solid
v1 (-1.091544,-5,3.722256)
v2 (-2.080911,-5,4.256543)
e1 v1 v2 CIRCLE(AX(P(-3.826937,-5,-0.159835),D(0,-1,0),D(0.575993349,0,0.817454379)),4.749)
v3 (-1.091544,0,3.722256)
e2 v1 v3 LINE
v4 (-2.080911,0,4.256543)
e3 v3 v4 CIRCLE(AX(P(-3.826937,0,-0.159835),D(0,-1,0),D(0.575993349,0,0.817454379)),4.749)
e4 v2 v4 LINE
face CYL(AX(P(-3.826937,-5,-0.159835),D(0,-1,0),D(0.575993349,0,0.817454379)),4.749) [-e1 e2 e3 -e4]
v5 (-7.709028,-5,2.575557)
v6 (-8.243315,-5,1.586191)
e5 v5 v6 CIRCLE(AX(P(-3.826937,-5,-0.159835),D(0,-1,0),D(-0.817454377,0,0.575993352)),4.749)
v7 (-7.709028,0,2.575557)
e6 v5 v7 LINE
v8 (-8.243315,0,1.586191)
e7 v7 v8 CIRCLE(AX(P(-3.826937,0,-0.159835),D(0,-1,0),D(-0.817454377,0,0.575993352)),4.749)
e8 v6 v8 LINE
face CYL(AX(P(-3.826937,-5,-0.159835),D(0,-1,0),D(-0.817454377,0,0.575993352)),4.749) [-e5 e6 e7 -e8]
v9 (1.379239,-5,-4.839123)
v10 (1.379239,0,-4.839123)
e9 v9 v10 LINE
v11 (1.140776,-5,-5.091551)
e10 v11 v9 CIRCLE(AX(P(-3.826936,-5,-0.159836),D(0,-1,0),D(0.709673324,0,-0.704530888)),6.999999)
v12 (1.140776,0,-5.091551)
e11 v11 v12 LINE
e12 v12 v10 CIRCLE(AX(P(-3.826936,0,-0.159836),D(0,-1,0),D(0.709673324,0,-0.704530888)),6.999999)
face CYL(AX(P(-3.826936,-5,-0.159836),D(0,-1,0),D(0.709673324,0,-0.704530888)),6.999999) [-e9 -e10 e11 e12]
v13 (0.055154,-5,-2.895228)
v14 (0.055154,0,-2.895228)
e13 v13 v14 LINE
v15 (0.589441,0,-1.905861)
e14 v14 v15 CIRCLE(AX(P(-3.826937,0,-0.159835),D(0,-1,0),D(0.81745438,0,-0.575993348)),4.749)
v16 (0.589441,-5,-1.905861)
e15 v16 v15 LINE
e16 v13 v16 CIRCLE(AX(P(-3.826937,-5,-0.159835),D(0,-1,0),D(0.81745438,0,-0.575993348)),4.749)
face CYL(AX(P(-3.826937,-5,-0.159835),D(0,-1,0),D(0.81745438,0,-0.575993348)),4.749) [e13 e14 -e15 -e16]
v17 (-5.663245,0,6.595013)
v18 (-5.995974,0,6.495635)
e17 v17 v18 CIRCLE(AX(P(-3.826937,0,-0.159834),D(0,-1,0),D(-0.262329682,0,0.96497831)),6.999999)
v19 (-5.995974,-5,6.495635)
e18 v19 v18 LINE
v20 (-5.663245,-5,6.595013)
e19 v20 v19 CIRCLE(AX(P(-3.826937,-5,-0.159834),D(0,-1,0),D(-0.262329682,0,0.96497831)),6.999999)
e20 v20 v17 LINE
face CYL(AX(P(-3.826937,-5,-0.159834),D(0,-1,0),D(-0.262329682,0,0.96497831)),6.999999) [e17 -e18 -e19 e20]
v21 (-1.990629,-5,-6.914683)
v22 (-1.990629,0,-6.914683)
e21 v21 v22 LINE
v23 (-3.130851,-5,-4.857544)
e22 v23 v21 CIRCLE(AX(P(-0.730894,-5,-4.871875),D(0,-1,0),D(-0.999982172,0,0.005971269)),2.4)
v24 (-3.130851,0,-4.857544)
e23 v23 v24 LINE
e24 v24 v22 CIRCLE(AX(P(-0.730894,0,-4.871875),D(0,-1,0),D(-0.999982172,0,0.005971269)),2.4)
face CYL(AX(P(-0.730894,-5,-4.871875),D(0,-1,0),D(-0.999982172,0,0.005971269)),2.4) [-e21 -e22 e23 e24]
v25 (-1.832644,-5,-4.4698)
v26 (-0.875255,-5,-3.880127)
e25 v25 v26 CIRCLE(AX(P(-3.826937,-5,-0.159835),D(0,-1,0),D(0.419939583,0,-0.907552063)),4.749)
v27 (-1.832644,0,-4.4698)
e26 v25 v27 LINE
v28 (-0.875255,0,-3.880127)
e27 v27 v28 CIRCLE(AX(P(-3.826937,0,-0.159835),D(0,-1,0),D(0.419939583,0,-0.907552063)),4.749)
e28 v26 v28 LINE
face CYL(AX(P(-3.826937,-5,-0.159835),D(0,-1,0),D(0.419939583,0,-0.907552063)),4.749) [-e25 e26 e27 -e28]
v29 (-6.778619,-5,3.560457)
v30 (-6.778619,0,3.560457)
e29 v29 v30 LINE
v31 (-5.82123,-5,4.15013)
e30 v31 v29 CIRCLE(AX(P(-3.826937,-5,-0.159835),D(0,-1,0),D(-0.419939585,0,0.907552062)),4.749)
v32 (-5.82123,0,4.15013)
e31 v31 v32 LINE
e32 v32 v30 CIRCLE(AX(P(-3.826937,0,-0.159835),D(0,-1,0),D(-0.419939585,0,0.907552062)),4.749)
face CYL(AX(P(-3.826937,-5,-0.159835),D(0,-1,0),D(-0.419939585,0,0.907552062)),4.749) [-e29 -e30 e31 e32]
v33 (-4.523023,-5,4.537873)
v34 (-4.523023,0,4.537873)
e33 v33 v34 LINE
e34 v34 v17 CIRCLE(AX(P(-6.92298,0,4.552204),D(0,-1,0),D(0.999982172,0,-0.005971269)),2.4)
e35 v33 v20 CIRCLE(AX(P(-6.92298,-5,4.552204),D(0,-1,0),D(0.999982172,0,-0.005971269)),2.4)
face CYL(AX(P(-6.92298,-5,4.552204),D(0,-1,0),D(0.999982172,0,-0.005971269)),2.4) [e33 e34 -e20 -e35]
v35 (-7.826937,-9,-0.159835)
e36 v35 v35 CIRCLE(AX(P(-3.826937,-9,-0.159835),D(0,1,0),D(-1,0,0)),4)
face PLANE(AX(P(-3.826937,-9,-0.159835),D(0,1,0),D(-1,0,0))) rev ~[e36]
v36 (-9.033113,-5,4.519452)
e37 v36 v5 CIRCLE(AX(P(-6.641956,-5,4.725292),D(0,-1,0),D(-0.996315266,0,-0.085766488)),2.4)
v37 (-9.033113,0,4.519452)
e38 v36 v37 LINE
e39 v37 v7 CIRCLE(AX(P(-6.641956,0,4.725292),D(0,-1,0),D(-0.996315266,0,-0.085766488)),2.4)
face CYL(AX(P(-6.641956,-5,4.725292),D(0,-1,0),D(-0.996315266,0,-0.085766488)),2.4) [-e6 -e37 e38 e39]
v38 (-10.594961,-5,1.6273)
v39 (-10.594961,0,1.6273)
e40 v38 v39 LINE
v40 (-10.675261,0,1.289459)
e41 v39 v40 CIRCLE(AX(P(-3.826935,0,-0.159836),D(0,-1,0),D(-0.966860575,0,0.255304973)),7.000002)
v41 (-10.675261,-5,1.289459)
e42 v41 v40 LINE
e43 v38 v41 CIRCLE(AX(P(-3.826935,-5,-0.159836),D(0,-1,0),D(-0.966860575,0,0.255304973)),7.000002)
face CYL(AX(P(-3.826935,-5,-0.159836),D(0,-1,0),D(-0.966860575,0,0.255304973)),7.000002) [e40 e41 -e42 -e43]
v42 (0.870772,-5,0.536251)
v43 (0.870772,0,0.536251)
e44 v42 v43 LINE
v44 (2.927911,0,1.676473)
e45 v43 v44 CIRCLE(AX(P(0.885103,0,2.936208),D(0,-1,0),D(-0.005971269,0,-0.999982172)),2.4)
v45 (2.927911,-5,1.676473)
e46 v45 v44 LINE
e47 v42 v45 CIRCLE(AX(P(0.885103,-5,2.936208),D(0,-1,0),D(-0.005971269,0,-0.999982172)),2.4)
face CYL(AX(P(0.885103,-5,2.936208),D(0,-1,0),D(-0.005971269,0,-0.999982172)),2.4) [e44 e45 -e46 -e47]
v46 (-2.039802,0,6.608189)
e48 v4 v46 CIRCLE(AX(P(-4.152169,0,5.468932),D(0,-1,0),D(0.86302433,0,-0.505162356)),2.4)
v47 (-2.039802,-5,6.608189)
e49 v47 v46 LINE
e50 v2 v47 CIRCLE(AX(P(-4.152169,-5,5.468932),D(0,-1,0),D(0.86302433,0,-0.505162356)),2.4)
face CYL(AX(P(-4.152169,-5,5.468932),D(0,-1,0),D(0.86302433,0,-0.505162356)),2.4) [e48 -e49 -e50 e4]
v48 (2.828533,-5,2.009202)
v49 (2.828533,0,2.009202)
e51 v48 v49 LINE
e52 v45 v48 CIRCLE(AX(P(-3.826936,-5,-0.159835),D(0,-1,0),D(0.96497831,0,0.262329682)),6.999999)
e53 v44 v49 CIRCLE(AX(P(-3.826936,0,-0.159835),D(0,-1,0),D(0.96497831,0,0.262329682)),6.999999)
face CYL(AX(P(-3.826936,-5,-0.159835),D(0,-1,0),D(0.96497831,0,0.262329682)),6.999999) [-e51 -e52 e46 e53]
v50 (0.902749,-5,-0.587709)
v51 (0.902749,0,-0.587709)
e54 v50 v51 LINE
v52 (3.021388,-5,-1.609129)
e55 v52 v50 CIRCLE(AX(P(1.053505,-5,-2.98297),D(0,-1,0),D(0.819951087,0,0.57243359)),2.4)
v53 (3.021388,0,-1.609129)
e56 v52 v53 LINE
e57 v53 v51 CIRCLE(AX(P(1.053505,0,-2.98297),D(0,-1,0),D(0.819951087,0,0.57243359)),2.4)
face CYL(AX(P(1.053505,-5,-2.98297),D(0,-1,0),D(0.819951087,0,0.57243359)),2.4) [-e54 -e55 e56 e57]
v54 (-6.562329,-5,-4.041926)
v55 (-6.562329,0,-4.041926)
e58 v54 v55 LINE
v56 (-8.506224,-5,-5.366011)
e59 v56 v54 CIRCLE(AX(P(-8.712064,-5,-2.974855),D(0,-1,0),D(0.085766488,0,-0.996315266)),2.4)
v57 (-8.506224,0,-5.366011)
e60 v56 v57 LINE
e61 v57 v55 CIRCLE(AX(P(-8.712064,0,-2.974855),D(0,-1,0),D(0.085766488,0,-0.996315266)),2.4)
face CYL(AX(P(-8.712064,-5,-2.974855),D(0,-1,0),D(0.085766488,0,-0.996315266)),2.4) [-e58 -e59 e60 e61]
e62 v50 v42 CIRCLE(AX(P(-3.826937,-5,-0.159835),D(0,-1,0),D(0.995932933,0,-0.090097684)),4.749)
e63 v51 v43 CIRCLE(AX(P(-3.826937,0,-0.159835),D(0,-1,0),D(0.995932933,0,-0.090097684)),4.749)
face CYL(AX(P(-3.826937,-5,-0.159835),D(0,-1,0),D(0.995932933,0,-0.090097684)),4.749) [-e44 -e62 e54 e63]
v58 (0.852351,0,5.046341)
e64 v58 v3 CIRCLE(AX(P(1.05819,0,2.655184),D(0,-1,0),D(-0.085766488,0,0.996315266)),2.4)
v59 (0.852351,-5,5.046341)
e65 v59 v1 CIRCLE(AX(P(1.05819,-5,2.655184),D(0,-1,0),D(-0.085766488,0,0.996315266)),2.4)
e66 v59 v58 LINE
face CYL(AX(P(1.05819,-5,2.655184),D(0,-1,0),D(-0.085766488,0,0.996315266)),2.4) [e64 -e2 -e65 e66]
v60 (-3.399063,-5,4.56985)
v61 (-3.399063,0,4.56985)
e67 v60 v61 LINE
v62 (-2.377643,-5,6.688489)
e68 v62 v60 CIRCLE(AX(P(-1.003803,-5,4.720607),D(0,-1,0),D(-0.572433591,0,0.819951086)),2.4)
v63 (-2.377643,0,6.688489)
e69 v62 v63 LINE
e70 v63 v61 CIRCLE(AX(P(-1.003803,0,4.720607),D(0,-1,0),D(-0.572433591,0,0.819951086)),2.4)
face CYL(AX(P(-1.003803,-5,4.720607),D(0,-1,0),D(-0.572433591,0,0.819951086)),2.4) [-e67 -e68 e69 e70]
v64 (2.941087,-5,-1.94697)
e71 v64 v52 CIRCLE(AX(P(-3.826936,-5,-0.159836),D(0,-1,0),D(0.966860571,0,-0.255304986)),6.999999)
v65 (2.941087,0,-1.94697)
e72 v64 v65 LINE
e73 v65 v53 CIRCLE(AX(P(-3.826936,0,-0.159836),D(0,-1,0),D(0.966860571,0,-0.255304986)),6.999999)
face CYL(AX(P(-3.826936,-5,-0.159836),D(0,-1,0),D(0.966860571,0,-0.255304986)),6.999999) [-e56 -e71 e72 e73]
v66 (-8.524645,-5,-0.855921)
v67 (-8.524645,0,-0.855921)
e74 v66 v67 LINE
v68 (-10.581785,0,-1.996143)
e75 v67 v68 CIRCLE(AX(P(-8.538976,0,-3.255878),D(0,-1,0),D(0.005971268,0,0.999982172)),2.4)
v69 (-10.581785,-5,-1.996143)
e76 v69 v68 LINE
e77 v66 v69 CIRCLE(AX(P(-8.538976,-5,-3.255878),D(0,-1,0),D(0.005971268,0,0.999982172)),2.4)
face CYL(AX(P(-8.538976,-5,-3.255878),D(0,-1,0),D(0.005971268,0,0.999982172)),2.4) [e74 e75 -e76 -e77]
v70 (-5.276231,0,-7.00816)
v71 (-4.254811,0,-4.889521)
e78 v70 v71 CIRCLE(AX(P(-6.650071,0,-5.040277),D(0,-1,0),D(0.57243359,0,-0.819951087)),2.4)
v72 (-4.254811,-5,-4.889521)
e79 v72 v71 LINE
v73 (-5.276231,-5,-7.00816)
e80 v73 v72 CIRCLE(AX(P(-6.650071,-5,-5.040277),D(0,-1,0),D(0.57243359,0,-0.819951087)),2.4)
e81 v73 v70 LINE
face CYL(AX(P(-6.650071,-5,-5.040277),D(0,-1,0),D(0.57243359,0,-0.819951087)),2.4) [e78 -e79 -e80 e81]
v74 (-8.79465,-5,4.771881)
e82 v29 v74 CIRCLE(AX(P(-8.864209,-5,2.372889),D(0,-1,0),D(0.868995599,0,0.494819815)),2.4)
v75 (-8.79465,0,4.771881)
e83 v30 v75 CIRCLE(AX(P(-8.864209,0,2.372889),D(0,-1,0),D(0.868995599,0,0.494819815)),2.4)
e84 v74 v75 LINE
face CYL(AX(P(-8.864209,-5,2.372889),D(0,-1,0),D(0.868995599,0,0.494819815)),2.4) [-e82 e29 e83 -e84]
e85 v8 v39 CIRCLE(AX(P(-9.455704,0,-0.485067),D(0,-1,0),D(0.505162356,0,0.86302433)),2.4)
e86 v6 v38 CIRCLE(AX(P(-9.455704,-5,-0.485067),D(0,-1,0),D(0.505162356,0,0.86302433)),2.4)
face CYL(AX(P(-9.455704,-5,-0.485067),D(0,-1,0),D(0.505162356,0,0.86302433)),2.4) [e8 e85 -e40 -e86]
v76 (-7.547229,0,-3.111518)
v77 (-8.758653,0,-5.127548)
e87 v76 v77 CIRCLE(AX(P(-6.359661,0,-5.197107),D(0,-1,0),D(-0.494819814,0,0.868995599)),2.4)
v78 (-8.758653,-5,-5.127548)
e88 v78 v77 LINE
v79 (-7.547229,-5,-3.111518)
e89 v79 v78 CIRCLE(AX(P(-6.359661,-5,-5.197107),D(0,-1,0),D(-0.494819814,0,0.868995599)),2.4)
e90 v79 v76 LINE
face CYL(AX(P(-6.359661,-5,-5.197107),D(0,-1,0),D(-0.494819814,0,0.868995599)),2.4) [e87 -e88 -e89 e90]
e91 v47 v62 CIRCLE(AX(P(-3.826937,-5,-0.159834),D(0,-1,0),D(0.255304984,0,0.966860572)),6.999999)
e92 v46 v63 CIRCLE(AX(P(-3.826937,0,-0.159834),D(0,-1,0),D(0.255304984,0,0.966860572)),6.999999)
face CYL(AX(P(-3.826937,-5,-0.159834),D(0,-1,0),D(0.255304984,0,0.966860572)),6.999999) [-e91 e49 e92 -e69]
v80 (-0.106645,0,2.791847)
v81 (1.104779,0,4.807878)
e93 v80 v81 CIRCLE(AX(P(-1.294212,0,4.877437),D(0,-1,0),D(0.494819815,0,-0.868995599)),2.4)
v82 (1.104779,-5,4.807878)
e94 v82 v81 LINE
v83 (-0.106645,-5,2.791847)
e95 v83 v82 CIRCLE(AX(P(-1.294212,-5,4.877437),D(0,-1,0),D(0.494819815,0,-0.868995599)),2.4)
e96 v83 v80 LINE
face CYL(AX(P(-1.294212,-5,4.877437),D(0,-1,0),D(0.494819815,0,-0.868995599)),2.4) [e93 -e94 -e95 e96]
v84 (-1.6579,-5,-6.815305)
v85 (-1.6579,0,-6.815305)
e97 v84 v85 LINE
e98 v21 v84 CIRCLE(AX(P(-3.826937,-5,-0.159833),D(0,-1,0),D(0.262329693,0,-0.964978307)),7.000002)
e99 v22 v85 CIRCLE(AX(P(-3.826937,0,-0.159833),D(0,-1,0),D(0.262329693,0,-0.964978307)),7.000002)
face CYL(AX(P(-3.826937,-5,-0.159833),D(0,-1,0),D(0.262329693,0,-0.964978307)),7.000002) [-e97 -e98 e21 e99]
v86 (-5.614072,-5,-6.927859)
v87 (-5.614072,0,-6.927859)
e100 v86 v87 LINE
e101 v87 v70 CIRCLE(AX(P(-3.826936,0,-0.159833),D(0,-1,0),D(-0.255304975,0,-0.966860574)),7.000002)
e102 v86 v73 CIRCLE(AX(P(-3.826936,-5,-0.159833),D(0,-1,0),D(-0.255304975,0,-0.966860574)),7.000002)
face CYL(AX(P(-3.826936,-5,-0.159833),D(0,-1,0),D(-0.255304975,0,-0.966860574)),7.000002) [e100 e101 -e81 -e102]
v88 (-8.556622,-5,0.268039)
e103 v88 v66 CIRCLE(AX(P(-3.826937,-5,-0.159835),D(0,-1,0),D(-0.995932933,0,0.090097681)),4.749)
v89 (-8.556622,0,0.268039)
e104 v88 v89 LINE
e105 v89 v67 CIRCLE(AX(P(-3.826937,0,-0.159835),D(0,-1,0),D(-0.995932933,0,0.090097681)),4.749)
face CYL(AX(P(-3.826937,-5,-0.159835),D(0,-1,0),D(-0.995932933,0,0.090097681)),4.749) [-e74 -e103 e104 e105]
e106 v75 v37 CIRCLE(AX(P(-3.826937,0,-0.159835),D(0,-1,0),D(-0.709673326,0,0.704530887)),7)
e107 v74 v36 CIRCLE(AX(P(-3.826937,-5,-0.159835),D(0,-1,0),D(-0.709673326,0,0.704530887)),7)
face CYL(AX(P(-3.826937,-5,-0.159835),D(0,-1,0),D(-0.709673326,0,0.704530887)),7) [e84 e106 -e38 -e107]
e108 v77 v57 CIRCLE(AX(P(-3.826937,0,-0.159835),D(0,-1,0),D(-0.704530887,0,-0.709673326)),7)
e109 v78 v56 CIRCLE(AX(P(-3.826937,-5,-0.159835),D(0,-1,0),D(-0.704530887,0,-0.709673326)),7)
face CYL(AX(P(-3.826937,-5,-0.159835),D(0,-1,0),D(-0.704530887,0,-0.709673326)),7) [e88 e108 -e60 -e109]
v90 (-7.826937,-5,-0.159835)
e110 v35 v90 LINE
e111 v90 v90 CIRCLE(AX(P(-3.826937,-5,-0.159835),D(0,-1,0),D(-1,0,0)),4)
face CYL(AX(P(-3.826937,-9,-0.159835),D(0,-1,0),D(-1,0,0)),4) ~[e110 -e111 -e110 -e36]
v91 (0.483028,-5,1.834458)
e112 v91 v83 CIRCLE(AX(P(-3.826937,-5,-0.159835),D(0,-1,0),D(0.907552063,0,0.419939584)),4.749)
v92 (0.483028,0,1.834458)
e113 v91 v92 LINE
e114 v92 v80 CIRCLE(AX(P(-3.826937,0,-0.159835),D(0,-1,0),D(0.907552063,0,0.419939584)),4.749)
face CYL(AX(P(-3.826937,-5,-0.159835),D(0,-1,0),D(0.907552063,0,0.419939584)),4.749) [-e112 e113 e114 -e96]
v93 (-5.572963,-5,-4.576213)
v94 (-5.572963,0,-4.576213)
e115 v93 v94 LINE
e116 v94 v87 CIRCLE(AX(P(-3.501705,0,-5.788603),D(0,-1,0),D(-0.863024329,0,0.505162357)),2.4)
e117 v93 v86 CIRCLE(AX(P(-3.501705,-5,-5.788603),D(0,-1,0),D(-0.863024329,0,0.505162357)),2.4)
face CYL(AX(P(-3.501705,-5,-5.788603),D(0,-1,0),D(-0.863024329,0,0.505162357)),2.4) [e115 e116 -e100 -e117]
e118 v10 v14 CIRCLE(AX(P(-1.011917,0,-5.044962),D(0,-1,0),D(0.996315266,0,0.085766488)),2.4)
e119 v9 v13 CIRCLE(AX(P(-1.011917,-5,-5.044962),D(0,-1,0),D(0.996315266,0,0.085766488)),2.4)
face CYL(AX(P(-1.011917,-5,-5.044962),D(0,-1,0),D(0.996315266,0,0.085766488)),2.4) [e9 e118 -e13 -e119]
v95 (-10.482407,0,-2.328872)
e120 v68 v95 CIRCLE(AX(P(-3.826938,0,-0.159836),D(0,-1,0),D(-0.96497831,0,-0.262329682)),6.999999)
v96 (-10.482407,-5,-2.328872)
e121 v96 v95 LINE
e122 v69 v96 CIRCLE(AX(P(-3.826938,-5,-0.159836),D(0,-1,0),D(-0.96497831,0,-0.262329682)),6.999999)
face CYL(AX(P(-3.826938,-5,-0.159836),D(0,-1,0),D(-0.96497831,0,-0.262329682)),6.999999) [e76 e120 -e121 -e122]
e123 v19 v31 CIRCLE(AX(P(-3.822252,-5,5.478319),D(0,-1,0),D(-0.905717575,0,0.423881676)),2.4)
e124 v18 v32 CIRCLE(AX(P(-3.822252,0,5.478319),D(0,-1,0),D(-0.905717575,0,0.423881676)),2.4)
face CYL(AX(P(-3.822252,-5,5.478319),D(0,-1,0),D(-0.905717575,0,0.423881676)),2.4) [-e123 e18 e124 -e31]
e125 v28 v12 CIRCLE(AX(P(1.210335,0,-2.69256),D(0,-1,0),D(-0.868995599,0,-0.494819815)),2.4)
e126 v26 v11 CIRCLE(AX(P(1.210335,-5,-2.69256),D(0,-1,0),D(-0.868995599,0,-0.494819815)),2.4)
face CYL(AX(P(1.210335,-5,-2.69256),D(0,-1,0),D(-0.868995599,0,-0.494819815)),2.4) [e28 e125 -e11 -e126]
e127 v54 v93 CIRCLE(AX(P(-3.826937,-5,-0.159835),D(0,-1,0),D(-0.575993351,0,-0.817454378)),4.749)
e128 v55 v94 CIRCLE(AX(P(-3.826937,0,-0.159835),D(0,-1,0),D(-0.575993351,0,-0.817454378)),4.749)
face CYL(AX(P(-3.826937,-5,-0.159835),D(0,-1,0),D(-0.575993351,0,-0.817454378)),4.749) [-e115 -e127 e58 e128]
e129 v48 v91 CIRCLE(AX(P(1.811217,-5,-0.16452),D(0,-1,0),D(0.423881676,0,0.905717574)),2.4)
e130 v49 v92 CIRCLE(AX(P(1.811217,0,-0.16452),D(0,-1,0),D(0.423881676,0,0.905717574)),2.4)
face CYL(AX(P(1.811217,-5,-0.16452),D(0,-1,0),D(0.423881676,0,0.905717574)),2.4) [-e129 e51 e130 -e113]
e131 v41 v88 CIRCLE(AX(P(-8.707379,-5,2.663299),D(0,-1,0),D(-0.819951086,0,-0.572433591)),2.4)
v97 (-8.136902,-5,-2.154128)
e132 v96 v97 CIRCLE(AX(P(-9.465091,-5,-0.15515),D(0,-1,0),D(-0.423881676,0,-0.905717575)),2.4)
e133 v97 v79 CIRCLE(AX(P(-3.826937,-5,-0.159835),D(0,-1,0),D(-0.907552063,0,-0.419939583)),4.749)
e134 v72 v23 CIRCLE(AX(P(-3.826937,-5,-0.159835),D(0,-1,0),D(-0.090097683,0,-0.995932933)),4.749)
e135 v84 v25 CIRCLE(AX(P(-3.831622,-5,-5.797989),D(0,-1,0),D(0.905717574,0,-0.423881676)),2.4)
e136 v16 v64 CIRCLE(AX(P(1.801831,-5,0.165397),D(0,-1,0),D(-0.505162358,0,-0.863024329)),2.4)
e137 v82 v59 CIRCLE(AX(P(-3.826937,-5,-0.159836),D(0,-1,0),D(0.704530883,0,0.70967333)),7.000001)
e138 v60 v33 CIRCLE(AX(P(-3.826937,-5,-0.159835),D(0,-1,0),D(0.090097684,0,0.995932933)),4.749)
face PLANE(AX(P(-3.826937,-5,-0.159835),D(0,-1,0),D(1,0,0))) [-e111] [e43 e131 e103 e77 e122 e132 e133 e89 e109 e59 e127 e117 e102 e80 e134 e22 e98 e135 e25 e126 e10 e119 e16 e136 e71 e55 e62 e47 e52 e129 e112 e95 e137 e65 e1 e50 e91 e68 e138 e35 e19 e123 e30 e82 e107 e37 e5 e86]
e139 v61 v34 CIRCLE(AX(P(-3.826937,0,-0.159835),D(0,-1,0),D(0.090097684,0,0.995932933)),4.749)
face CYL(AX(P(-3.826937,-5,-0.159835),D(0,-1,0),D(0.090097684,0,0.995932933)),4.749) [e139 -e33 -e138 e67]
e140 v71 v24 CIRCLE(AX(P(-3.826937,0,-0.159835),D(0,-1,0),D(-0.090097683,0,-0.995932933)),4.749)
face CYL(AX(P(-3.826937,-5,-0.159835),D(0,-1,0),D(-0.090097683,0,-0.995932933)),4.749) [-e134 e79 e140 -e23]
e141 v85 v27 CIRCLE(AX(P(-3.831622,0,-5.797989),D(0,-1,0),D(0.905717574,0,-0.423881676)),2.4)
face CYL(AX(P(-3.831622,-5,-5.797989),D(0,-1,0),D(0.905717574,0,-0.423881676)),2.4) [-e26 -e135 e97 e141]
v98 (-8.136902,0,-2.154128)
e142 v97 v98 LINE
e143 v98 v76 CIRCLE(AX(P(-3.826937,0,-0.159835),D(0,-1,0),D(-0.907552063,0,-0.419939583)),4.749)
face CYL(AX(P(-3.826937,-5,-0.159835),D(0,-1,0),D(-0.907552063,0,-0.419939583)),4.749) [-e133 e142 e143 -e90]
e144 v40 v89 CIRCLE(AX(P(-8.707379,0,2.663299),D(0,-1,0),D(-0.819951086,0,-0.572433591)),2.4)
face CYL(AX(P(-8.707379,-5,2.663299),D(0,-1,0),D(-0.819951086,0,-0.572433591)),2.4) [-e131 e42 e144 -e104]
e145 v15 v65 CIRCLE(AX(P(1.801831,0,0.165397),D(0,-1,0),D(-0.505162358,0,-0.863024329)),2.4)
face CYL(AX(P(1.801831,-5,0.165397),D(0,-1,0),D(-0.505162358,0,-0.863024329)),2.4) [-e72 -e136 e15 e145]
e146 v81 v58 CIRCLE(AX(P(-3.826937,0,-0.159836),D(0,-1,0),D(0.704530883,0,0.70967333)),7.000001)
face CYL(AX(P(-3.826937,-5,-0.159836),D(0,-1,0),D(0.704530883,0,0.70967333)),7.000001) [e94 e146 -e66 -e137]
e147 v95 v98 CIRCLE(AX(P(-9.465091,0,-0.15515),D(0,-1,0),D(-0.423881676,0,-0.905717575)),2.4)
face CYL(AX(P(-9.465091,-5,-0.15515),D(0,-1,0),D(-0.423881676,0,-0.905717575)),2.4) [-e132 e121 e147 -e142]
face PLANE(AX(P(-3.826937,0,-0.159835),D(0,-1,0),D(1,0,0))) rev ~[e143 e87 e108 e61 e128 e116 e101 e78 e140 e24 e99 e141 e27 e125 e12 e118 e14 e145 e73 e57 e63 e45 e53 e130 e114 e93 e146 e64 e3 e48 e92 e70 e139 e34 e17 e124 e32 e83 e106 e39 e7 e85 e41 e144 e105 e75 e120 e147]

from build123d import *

# Parameters (mm, degrees)
SKETCH1_R           = 4
BOSS_EXTRUDE1_DEPTH = 5
BOSS_EXTRUDE2_START = -9
SKETCH2_R           = 4
BOSS_EXTRUDE2_DEPTH = 9


with BuildPart() as part:
    # Sketch1 → Boss-Extrude1 (new body)
    with BuildSketch(Plane.XZ.offset(5)):
        with BuildLine():
            ThreePointArc((0.852350502, 5.046340911), (-0.292914214, 4.63874602), (-1.091544478, 3.722255668))
            ThreePointArc((-1.091544478, 3.722255668), (-1.570358996, 4.018783876), (-2.080910718, 4.256542705))
            ThreePointArc((-2.080910718, 4.256542705), (-1.75253572, 5.426984811), (-2.039802025, 6.60818883))
            ThreePointArc((-2.039802025, 6.60818883), (-2.208224588, 6.650434309), (-2.377643182, 6.68848927))
            ThreePointArc((-2.377643182, 6.68848927), (-3.165674074, 5.762869382), (-3.399062995, 4.569850323))
            ThreePointArc((-3.399062995, 4.569850323), (-3.961992636, 4.587244025), (-4.523022811, 4.537873349))
            ThreePointArc((-4.523022811, 4.537873349), (-4.823862774, 5.715693447), (-5.663244701, 6.595012981))
            ThreePointArc((-5.663244701, 6.595012981), (-5.830225658, 6.547387358), (-5.995973945, 6.495634624))
            ThreePointArc((-5.995973945, 6.495634624), (-6.215618773, 5.300008841), (-5.821229978, 4.150129568))
            ThreePointArc((-5.821229978, 4.150129568), (-6.317438198, 3.883728135), (-6.778619245, 3.560456788))
            ThreePointArc((-6.778619245, 3.560456788), (-7.628064343, 4.430058932), (-8.794650183, 4.771881024))
            ThreePointArc((-8.794650183, 4.771881024), (-8.915447123, 4.647145545), (-9.033112983, 4.51945222))
            ThreePointArc((-9.033112983, 4.51945222), (-8.625518092, 3.374187504), (-7.709027739, 2.57555724))
            ThreePointArc((-7.709027739, 2.57555724), (-8.005555948, 2.096742722), (-8.243314776, 1.586191))
            ThreePointArc((-8.243314776, 1.586191), (-9.413756883, 1.914565998), (-10.594960902, 1.627299693))
            ThreePointArc((-10.594960902, 1.627299693), (-10.63720638, 1.45887713), (-10.675261342, 1.289458536))
            ThreePointArc((-10.675261342, 1.289458536), (-9.749641454, 0.501427644), (-8.556622395, 0.268038723))
            ThreePointArc((-8.556622395, 0.268038723), (-8.574016096, -0.294890918), (-8.524645421, -0.855921093))
            ThreePointArc((-8.524645421, -0.855921093), (-9.702465518, -1.156761056), (-10.581785053, -1.996142983))
            ThreePointArc((-10.581785053, -1.996142983), (-10.53415943, -2.16312394), (-10.482406696, -2.328872227))
            ThreePointArc((-10.482406696, -2.328872227), (-9.286780912, -2.548517055), (-8.136901639, -2.15412826))
            ThreePointArc((-8.136901639, -2.15412826), (-7.870500207, -2.65033648), (-7.54722886, -3.111517527))
            ThreePointArc((-7.54722886, -3.111517527), (-8.416831004, -3.960962625), (-8.758653095, -5.127548465))
            ThreePointArc((-8.758653095, -5.127548465), (-8.633917617, -5.248345404), (-8.506224291, -5.366011265))
            ThreePointArc((-8.506224291, -5.366011265), (-7.360959576, -4.958416374), (-6.562329312, -4.041926021))
            ThreePointArc((-6.562329312, -4.041926021), (-6.083514793, -4.33845423), (-5.572963071, -4.576213058))
            ThreePointArc((-5.572963071, -4.576213058), (-5.90133807, -5.746655165), (-5.614071764, -6.927859184))
            ThreePointArc((-5.614071764, -6.927859184), (-5.445649202, -6.970104662), (-5.276230608, -7.008159624))
            ThreePointArc((-5.276230608, -7.008159624), (-4.488199715, -6.082539736), (-4.254810795, -4.889520676))
            ThreePointArc((-4.254810795, -4.889520676), (-3.691881154, -4.906914378), (-3.130850979, -4.857543703))
            ThreePointArc((-3.130850979, -4.857543703), (-2.830011016, -6.0353638), (-1.990629088, -6.914683335))
            ThreePointArc((-1.990629088, -6.914683335), (-1.823648131, -6.867057711), (-1.657899844, -6.815304978))
            ThreePointArc((-1.657899844, -6.815304978), (-1.438255016, -5.619679194), (-1.832643812, -4.469799921))
            ThreePointArc((-1.832643812, -4.469799921), (-1.336435592, -4.203398489), (-0.875254545, -3.880127142))
            ThreePointArc((-0.875254545, -3.880127142), (-0.025809446, -4.749729286), (1.140776394, -5.091551377))
            ThreePointArc((1.140776394, -5.091551377), (1.261573333, -4.966815899), (1.379239193, -4.839122573))
            ThreePointArc((1.379239193, -4.839122573), (0.971644302, -3.693857858), (0.05515395, -2.895227594))
            ThreePointArc((0.05515395, -2.895227594), (0.351682158, -2.416413075), (0.589440987, -1.905861353))
            ThreePointArc((0.589440987, -1.905861353), (1.759883093, -2.234236352), (2.941087112, -1.946970046))
            ThreePointArc((2.941087112, -1.946970046), (2.983332591, -1.778547484), (3.021387552, -1.60912889))
            ThreePointArc((3.021387552, -1.60912889), (2.095767664, -0.821097997), (0.902748605, -0.587709077))
            ThreePointArc((0.902748605, -0.587709077), (0.920142307, -0.024779436), (0.870771631, 0.536250739))
            ThreePointArc((0.870771631, 0.536250739), (2.048591729, 0.837090702), (2.927911263, 1.67647263))
            ThreePointArc((2.927911263, 1.67647263), (2.88028564, 1.843453587), (2.828532906, 2.009201874))
            ThreePointArc((2.828532906, 2.009201874), (1.632907123, 2.228846702), (0.48302785, 1.834457906))
            ThreePointArc((0.48302785, 1.834457906), (0.216626417, 2.330666127), (-0.10664493, 2.791847173))
            ThreePointArc((-0.10664493, 2.791847173), (0.762957214, 3.641292272), (1.104779306, 4.807878112))
            ThreePointArc((1.104779306, 4.807878112), (0.980043827, 4.928675051), (0.852350502, 5.046340911))
        make_face()
        with Locations(Location((-3.826936895, -0.159835177, 0), (0, 0, 180))):
            Circle(SKETCH1_R, mode=Mode.SUBTRACT)
    extrude(amount=-BOSS_EXTRUDE1_DEPTH)

    # Sketch2 → Boss-Extrude2 (add)
    with BuildSketch(Plane(origin=(0, 0, 0), x_dir=(1, 0, 0), z_dir=(0, 1, 0)).offset(BOSS_EXTRUDE2_START)):
        with Locations(Location((-3.826936895, 0.159835177, 0), (0, 0, 180))):
            Circle(SKETCH2_R)
    extrude(amount=BOSS_EXTRUDE2_DEPTH)


solid = part.part
